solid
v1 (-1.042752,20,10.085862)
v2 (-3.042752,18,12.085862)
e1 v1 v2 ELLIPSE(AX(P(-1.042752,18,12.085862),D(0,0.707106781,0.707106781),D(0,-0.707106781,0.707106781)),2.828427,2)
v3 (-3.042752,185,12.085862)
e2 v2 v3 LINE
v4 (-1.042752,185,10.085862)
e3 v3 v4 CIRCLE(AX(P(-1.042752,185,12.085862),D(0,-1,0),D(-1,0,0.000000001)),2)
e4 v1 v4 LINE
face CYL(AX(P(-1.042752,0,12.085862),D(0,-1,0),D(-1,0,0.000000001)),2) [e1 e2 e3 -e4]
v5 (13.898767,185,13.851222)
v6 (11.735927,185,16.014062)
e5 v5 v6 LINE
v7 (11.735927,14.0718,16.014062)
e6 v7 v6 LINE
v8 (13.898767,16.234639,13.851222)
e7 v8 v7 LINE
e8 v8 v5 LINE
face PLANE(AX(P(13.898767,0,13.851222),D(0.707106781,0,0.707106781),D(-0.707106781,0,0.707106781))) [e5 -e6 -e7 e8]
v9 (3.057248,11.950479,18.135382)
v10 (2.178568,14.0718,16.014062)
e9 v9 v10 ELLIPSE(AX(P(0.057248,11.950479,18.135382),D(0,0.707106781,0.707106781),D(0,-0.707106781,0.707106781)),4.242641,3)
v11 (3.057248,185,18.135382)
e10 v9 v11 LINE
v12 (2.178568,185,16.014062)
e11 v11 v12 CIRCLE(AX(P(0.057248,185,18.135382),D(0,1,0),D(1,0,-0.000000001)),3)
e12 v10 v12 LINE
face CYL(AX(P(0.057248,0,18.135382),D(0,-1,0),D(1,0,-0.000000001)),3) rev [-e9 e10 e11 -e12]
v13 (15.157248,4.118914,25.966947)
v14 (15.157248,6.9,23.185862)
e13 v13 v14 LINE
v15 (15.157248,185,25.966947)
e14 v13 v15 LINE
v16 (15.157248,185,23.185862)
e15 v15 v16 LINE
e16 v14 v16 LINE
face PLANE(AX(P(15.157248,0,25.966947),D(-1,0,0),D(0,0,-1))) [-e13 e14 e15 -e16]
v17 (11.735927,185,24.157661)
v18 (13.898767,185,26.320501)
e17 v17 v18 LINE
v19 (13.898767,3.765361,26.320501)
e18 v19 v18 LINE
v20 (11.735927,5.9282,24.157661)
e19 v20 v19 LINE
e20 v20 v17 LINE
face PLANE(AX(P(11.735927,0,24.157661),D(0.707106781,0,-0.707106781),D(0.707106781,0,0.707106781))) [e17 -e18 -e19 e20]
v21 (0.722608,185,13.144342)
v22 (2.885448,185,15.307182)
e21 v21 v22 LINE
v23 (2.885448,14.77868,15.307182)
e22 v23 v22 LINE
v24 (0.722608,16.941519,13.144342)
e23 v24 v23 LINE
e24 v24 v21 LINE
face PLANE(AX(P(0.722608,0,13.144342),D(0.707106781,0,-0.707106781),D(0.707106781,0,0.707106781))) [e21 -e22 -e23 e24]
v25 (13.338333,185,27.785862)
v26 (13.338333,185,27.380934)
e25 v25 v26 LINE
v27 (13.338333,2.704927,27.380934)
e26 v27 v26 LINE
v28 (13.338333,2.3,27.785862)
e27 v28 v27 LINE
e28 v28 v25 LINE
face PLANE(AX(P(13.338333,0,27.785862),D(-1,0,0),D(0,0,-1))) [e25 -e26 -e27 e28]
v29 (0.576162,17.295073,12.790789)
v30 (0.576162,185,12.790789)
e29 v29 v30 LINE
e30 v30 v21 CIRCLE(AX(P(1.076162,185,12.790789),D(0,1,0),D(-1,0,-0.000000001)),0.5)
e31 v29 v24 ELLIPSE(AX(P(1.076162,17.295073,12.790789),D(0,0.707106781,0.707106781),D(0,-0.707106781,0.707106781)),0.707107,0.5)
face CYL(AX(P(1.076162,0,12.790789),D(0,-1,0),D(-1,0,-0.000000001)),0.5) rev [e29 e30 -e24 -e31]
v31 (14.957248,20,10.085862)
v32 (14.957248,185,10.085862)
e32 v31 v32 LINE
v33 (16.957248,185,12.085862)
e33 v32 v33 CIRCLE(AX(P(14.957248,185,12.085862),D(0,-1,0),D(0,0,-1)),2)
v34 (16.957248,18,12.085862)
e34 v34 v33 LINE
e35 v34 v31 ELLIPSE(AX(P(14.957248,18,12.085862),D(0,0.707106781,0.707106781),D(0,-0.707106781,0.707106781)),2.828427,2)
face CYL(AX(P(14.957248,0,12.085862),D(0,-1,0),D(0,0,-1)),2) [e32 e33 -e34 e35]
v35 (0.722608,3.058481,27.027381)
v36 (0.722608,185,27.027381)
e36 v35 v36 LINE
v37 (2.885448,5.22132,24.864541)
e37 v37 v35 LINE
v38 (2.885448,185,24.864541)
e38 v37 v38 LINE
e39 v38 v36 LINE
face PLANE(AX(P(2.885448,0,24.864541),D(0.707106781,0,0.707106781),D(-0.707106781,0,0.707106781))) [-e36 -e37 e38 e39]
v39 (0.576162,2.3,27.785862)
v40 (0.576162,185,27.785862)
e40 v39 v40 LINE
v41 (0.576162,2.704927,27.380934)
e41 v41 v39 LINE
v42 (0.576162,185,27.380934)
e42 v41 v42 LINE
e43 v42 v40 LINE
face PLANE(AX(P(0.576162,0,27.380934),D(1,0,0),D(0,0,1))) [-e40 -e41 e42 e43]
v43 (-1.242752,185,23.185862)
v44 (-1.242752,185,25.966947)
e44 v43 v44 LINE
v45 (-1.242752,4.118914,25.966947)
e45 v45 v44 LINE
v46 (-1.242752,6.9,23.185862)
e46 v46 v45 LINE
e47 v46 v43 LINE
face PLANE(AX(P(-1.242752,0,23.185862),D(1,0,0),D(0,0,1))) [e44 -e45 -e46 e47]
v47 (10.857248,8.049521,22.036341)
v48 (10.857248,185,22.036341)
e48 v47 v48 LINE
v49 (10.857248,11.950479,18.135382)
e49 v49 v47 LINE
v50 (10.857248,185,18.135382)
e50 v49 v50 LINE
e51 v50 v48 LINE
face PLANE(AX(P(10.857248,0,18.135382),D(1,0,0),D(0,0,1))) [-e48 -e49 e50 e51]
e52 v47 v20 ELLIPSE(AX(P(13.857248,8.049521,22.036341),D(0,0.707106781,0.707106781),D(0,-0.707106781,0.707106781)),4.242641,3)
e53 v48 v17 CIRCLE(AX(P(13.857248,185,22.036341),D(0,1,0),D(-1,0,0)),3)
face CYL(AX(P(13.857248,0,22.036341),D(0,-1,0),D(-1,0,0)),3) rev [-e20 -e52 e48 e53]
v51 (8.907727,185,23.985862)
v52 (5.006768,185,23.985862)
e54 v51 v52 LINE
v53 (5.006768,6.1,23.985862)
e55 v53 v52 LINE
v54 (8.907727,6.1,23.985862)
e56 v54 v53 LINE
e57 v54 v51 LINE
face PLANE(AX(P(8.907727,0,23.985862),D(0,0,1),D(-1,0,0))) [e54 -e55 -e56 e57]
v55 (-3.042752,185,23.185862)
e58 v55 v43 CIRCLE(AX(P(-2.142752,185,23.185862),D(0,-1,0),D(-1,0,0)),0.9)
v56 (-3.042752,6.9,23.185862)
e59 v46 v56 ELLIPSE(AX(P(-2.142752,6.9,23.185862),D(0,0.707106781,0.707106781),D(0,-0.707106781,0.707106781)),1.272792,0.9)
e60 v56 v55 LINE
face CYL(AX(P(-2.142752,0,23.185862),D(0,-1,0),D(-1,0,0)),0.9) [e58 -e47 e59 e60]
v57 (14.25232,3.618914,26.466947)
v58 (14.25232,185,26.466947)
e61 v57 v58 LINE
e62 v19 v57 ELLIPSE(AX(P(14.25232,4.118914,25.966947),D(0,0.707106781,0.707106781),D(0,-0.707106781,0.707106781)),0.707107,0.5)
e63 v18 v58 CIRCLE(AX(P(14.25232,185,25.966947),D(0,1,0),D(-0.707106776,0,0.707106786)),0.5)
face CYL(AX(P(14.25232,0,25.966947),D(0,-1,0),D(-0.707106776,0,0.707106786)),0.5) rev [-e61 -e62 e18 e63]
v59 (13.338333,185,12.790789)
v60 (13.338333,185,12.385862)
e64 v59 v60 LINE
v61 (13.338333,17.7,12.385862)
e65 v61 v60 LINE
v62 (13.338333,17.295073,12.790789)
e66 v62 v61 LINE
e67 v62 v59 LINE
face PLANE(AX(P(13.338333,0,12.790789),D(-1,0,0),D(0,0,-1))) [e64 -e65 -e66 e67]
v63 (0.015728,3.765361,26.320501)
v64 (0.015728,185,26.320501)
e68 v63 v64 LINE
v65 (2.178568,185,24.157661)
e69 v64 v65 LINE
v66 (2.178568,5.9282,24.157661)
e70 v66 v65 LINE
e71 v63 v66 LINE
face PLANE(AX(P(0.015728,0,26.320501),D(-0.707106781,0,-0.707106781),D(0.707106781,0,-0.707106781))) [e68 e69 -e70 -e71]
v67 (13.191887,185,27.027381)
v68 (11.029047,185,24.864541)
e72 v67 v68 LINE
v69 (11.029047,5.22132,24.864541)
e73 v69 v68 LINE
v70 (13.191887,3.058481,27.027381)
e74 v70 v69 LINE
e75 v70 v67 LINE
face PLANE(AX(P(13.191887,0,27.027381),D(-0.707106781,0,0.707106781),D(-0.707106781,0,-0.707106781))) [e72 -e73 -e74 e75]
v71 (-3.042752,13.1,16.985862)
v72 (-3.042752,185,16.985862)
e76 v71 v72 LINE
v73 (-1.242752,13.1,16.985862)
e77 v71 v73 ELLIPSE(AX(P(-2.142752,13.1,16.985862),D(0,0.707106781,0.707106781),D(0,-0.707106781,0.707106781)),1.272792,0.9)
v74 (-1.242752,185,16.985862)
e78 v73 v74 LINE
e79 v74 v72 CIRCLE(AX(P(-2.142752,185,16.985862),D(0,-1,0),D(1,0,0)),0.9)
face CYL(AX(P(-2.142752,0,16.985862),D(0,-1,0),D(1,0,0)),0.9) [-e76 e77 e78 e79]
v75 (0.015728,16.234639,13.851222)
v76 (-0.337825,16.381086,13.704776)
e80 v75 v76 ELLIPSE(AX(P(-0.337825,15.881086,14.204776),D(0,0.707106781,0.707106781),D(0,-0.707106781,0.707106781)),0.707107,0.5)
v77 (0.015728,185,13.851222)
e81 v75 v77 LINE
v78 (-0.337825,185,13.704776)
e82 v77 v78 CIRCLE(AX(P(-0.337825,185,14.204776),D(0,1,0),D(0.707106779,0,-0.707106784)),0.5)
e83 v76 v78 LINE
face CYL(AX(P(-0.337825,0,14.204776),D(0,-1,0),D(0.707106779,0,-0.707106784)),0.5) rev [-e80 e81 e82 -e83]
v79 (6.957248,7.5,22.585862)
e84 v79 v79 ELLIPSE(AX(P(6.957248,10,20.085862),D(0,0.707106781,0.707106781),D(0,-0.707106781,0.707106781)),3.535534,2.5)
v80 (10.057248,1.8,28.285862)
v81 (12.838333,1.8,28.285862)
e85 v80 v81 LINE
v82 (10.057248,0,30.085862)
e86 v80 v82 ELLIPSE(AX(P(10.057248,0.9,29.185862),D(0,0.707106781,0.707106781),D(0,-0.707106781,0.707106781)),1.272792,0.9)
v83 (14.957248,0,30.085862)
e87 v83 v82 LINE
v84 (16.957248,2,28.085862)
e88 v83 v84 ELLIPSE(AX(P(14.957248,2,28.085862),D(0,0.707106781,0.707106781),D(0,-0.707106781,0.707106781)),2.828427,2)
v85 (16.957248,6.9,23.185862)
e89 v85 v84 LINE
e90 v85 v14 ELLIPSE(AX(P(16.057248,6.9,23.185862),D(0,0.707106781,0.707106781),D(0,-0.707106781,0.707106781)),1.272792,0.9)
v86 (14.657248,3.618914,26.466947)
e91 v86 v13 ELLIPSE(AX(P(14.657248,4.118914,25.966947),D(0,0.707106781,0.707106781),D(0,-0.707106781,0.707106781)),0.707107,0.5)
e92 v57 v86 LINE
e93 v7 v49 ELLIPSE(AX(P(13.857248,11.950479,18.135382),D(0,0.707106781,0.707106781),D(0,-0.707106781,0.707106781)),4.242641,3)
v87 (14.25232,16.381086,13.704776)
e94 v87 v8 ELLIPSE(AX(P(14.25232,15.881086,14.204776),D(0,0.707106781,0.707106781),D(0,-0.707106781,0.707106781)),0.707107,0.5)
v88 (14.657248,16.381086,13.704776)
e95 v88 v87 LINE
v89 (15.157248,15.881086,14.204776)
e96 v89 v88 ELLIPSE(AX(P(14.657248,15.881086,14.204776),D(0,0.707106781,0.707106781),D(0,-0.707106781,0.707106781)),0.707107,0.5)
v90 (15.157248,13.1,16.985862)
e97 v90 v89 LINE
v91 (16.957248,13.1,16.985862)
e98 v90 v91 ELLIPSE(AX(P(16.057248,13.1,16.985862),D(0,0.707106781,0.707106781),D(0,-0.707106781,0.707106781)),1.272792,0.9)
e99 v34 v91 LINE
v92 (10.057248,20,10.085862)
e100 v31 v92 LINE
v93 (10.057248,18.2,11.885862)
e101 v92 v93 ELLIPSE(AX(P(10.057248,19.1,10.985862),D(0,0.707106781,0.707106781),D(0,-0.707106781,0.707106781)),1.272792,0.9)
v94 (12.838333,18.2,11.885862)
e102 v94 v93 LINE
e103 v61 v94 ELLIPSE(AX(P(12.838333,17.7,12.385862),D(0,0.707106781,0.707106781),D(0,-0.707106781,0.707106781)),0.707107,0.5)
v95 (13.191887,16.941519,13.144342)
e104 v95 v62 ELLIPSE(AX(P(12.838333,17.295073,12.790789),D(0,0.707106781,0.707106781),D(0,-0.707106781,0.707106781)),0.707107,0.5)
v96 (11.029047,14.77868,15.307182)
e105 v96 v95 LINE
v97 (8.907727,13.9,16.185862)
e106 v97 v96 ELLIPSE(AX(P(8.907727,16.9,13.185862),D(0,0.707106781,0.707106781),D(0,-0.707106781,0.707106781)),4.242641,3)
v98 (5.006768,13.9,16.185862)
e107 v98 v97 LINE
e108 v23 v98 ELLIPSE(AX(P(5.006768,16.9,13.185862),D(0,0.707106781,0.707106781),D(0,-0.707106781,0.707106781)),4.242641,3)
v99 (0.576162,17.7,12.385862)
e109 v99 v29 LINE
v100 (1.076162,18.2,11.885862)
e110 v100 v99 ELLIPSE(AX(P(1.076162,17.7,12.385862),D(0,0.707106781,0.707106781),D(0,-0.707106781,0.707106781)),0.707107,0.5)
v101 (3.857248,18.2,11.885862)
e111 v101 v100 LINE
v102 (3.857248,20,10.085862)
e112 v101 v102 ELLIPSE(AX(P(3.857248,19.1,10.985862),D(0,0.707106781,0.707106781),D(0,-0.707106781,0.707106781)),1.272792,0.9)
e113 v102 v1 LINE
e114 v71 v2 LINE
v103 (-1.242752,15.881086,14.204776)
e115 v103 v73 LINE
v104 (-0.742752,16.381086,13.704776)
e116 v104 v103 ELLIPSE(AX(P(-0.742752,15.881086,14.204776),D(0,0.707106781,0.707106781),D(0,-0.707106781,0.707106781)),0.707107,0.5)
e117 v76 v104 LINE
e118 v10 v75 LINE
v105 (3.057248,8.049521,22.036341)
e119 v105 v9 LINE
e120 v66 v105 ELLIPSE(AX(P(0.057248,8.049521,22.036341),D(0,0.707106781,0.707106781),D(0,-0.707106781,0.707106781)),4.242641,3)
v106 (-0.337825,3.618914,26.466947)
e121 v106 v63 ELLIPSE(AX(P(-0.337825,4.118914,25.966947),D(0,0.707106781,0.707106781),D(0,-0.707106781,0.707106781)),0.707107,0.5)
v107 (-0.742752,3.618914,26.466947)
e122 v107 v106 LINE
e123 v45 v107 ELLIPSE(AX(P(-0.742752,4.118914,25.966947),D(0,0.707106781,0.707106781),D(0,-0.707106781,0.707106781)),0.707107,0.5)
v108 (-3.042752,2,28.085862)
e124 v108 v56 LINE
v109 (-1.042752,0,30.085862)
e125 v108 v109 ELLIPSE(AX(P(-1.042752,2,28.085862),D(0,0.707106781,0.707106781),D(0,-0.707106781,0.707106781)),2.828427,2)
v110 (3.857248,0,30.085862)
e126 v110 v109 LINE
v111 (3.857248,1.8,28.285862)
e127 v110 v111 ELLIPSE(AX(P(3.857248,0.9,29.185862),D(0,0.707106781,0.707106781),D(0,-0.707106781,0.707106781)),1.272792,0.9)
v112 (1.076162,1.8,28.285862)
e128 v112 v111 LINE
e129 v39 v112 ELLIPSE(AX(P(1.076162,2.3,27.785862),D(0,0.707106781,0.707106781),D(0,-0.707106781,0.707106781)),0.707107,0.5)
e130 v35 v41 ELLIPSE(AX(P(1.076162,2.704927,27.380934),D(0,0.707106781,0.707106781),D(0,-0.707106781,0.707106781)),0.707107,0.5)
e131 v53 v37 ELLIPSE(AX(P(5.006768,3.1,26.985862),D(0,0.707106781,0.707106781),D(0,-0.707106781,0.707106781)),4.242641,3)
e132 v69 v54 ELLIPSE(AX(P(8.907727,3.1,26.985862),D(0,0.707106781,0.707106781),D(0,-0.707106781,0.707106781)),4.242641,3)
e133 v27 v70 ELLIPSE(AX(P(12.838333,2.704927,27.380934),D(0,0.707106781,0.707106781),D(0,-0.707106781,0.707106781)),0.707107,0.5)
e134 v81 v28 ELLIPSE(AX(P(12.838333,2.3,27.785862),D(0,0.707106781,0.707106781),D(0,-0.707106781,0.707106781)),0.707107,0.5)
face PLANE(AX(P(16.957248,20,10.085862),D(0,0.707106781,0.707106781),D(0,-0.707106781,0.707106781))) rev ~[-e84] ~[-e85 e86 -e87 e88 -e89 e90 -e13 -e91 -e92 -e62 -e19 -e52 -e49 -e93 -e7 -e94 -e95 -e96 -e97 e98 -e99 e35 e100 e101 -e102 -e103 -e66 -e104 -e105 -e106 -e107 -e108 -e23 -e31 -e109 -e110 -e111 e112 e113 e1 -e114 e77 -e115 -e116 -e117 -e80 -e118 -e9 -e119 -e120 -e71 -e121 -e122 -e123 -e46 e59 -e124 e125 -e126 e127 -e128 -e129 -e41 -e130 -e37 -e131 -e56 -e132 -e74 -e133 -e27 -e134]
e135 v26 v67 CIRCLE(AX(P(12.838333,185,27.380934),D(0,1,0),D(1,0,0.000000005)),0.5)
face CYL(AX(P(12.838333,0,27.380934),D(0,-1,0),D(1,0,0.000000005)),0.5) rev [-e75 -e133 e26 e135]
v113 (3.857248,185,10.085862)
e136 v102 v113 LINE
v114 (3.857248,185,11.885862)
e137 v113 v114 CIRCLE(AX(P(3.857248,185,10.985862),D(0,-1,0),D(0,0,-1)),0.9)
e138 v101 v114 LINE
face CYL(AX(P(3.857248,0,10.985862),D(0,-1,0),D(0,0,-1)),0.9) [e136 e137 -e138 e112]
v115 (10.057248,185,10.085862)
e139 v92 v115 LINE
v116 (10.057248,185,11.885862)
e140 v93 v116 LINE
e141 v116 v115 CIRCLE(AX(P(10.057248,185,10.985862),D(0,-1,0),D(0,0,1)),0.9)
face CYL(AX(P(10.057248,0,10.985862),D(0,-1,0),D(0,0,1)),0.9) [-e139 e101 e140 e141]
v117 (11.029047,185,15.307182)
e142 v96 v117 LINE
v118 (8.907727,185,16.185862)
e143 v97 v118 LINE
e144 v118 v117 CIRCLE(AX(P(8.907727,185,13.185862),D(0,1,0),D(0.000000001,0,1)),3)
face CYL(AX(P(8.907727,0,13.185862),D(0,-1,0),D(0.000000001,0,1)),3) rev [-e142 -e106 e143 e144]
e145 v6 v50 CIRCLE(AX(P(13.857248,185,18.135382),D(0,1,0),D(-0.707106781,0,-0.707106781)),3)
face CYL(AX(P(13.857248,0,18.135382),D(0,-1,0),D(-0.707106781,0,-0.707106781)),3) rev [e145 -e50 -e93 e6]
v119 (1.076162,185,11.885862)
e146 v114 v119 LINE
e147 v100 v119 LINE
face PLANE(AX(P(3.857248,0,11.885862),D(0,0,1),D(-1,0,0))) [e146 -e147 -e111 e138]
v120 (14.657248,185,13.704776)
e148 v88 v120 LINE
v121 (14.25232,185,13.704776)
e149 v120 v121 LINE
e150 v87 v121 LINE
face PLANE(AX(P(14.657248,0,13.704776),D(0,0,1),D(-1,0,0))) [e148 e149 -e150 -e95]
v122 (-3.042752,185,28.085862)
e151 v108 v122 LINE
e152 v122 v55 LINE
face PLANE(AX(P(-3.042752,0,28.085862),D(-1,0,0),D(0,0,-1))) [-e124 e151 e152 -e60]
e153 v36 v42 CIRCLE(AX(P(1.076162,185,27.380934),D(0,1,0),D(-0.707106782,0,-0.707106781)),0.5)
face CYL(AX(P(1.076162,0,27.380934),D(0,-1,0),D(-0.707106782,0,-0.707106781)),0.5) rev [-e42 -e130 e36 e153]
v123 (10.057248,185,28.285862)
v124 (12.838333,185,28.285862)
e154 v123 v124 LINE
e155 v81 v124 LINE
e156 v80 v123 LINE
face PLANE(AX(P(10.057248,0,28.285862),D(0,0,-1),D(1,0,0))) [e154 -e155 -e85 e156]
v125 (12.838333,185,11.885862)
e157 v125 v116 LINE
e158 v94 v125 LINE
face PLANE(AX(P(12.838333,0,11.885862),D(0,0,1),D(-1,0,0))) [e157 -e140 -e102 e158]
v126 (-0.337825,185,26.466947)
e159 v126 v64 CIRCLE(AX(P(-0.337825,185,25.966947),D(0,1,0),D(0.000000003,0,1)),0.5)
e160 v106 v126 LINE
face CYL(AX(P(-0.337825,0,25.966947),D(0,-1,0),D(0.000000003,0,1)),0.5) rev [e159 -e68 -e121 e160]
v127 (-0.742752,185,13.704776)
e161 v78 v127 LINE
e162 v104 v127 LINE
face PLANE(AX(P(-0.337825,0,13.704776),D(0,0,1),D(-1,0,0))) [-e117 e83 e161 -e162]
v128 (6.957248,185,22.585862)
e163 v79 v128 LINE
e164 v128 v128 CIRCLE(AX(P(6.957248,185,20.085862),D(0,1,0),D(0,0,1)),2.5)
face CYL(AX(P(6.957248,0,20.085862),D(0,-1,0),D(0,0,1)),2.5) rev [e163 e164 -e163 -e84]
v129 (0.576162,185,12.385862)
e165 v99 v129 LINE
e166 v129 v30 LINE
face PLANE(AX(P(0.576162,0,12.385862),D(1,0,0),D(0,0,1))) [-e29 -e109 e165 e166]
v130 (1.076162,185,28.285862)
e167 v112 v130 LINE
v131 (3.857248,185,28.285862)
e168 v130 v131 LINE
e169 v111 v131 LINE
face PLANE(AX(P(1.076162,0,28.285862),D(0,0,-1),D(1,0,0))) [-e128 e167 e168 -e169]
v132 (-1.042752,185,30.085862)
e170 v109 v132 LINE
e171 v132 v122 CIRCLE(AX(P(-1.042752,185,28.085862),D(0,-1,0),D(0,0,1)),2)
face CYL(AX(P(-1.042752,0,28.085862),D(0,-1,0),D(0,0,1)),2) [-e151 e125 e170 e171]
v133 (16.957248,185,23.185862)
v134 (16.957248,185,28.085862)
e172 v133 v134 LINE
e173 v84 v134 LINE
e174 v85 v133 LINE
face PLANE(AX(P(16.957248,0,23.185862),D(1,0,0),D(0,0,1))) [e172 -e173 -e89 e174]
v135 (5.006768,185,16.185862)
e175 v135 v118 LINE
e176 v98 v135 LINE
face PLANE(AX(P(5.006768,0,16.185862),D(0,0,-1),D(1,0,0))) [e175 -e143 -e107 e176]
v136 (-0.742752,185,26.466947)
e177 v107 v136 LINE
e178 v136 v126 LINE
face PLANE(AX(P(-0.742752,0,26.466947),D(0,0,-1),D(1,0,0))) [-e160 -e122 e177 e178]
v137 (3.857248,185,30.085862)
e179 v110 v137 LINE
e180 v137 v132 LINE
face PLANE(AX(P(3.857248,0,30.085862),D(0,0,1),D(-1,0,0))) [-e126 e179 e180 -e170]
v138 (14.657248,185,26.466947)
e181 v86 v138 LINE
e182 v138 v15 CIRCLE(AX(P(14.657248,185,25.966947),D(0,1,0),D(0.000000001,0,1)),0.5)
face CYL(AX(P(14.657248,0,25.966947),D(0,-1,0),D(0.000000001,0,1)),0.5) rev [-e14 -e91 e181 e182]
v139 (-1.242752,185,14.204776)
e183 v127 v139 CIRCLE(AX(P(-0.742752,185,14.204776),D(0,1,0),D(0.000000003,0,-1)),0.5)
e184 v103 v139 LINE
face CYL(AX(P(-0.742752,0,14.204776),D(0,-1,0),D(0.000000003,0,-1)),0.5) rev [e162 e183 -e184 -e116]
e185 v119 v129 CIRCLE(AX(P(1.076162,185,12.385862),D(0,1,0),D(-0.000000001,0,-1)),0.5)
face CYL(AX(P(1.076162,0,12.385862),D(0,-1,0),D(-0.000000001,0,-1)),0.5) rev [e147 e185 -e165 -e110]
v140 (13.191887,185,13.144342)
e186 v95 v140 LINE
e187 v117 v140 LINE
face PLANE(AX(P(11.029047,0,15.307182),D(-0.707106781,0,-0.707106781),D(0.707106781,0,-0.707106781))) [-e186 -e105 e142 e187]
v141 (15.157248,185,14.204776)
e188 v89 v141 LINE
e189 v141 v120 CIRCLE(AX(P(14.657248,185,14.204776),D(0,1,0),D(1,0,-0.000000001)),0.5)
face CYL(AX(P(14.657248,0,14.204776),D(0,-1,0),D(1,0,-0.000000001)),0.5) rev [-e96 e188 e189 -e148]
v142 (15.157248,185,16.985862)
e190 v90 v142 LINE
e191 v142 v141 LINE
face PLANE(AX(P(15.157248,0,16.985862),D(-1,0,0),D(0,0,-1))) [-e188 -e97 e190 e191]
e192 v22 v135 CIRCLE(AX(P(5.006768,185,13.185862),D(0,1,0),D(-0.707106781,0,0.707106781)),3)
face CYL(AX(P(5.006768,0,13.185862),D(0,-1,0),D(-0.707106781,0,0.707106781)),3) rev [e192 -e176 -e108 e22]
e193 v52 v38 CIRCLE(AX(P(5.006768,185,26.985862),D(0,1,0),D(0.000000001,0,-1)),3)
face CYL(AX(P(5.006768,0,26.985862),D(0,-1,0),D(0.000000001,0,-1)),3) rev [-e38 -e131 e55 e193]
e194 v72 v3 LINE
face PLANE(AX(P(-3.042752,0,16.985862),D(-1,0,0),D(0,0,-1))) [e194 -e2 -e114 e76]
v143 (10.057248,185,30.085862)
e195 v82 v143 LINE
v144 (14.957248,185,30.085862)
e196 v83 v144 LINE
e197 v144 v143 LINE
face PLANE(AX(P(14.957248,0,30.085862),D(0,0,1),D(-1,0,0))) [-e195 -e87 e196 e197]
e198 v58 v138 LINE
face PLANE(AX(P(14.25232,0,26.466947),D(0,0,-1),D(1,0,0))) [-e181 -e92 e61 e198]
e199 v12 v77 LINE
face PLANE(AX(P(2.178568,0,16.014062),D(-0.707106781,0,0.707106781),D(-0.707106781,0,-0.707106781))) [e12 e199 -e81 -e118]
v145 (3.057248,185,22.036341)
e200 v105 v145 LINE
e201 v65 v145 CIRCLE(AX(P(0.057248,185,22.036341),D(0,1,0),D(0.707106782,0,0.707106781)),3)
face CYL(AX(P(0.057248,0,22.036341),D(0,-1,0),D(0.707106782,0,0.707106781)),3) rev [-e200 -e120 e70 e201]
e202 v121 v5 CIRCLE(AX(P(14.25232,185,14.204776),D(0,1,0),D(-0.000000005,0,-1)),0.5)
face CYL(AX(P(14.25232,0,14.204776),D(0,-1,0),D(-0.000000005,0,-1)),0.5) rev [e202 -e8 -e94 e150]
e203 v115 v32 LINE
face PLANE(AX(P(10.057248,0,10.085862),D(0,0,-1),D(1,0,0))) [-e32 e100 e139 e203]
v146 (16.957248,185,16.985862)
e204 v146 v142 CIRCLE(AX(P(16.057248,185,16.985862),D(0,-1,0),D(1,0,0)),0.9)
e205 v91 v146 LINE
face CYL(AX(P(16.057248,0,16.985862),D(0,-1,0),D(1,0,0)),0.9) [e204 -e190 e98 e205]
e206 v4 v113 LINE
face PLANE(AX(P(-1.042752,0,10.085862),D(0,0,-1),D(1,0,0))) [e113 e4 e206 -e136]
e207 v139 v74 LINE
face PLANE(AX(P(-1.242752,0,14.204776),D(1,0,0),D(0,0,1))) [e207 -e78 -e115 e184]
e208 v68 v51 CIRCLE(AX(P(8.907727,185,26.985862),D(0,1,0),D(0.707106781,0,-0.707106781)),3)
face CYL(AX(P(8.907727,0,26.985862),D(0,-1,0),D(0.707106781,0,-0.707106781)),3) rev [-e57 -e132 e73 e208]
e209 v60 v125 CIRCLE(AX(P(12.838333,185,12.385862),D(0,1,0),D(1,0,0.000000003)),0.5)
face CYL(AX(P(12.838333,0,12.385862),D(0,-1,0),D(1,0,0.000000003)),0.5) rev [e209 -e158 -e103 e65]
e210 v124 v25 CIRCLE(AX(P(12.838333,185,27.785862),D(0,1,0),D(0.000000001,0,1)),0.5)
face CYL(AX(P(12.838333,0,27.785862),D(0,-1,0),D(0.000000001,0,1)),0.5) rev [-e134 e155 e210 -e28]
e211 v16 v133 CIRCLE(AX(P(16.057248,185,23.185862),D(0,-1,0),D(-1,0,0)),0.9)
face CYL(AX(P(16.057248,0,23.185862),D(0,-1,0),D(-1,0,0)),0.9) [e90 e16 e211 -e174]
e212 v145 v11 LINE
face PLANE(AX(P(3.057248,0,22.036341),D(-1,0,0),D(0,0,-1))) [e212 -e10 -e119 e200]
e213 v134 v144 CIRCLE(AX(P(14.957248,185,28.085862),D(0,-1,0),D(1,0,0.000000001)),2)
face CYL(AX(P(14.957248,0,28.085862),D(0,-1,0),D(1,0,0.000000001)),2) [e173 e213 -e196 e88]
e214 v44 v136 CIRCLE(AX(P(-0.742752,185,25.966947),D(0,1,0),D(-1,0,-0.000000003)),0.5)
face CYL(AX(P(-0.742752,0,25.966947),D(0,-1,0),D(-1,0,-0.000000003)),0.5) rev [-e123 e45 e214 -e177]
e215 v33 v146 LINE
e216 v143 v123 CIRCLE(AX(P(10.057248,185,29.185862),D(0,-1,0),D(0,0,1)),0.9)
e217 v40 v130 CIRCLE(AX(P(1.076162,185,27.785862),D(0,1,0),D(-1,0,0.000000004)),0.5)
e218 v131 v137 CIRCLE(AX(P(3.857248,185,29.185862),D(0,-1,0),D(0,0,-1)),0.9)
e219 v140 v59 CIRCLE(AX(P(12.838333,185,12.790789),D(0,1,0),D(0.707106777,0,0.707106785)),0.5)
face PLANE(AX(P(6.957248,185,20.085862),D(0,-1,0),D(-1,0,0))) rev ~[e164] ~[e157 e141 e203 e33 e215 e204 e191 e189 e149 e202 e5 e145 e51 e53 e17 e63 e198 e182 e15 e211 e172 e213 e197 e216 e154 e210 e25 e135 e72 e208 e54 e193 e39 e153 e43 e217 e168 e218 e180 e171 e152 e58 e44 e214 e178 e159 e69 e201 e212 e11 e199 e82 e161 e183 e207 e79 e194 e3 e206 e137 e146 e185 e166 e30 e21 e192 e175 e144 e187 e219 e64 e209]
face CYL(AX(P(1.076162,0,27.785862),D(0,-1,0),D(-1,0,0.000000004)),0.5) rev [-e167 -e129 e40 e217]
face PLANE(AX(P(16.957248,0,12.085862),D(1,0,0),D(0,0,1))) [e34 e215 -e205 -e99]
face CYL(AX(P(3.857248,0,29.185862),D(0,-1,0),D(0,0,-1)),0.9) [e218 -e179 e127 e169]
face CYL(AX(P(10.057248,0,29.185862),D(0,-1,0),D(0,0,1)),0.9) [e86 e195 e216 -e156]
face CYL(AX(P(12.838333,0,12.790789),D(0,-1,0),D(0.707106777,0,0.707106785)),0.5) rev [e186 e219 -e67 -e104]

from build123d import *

# Parameters (mm, degrees)
SKETCH_1_R          = 2.5
EXTRUDE_1_DEPTH     = 185
CUT_EXTRUDE_2_DEPTH = 189.494453685


with BuildPart() as part:
    # 草图1 → 凸台-拉伸1 (new body)
    with BuildSketch(Plane(origin=(0, 0, 0), x_dir=(1, 0, 0), z_dir=(0, 1, 0))):
        with BuildLine():
            Line((-1.042752475, -10.085861632), (3.857247525, -10.085861632))
            ThreePointArc((3.857247525, -10.085861632), (4.757247525, -10.985861632), (3.857247525, -11.885861632))
            Line((3.857247525, -11.885861632), (1.076161722, -11.885861632))
            ThreePointArc((1.076161722, -11.885861632), (0.722608332, -12.032308241), (0.576161722, -12.385861632))
            Line((0.576161722, -12.385861632), (0.576161722, -12.790788968))
            ThreePointArc((0.576161722, -12.790788968), (0.614221956, -12.982130685), (0.722608332, -13.144342359))
            Line((0.722608332, -13.144342359), (2.885447948, -15.307181975))
            ThreePointArc((2.885447948, -15.307181975), (3.858717994, -15.957500229), (5.006768291, -16.185861632))
            Line((5.006768291, -16.185861632), (8.907726758, -16.185861632))
            ThreePointArc((8.907726758, -16.185861632), (10.055777055, -15.957500229), (11.029047102, -15.307181975))
            Line((11.029047102, -15.307181975), (13.191886718, -13.144342359))
            ThreePointArc((13.191886718, -13.144342359), (13.300273094, -12.982130685), (13.338333327, -12.790788968))
            Line((13.338333327, -12.790788968), (13.338333327, -12.385861632))
            ThreePointArc((13.338333327, -12.385861632), (13.191886718, -12.032308241), (12.838333327, -11.885861632))
            Line((12.838333327, -11.885861632), (10.057247525, -11.885861632))
            ThreePointArc((10.057247525, -11.885861632), (9.157247525, -10.985861632), (10.057247525, -10.085861632))
            Line((10.057247525, -10.085861632), (14.957247525, -10.085861632))
            ThreePointArc((14.957247525, -10.085861632), (16.371461087, -10.671648069), (16.957247525, -12.085861632))
            Line((16.957247525, -12.085861632), (16.957247525, -16.985861632))
            ThreePointArc((16.957247525, -16.985861632), (16.057247525, -17.885861632), (15.157247525, -16.985861632))
            Line((15.157247525, -16.985861632), (15.157247525, -14.204775829))
            ThreePointArc((15.157247525, -14.204775829), (15.010800915, -13.851222438), (14.657247525, -13.704775829))
            Line((14.657247525, -13.704775829), (14.252320188, -13.704775829))
            ThreePointArc((14.252320188, -13.704775829), (14.060978472, -13.742836063), (13.898766797, -13.851222438))
            Line((13.898766797, -13.851222438), (11.735927181, -16.014062054))
            ThreePointArc((11.735927181, -16.014062054), (11.085608927, -16.987332101), (10.857247525, -18.135382398))
            Line((10.857247525, -18.135382398), (10.857247525, -22.036340865))
            ThreePointArc((10.857247525, -22.036340865), (11.085608927, -23.184391162), (11.735927181, -24.157661209))
            Line((11.735927181, -24.157661209), (13.898766797, -26.320500825))
            ThreePointArc((13.898766797, -26.320500825), (14.060978472, -26.4288872), (14.252320188, -26.466947434))
            Line((14.252320188, -26.466947434), (14.657247525, -26.466947434))
            ThreePointArc((14.657247525, -26.466947434), (15.010800915, -26.320500825), (15.157247525, -25.966947434))
            Line((15.157247525, -25.966947434), (15.157247525, -23.185861632))
            ThreePointArc((15.157247525, -23.185861632), (16.057247525, -22.285861632), (16.957247525, -23.185861632))
            Line((16.957247525, -23.185861632), (16.957247525, -28.085861632))
            ThreePointArc((16.957247525, -28.085861632), (16.371461087, -29.500075194), (14.957247525, -30.085861632))
            Line((14.957247525, -30.085861632), (10.057247525, -30.085861632))
            ThreePointArc((10.057247525, -30.085861632), (9.157247525, -29.185861632), (10.057247525, -28.285861632))
            Line((10.057247525, -28.285861632), (12.838333327, -28.285861632))
            ThreePointArc((12.838333327, -28.285861632), (13.191886718, -28.139415022), (13.338333327, -27.785861632))
            Line((13.338333327, -27.785861632), (13.338333327, -27.380934295))
            ThreePointArc((13.338333327, -27.380934295), (13.300273094, -27.189592579), (13.191886718, -27.027380904))
            Line((13.191886718, -27.027380904), (11.029047102, -24.864541288))
            ThreePointArc((11.029047102, -24.864541288), (10.055777055, -24.214223034), (8.907726758, -23.985861632))
            Line((8.907726758, -23.985861632), (5.006768291, -23.985861632))
            ThreePointArc((5.006768291, -23.985861632), (3.858717994, -24.214223034), (2.885447948, -24.864541288))
            Line((2.885447948, -24.864541288), (0.722608332, -27.027380904))
            ThreePointArc((0.722608332, -27.027380904), (0.614221956, -27.189592579), (0.576161722, -27.380934295))
            Line((0.576161722, -27.380934295), (0.576161722, -27.785861632))
            ThreePointArc((0.576161722, -27.785861632), (0.722608332, -28.139415022), (1.076161722, -28.285861632))
            Line((1.076161722, -28.285861632), (3.857247525, -28.285861632))
            ThreePointArc((3.857247525, -28.285861632), (4.757247525, -29.185861632), (3.857247525, -30.085861632))
            Line((3.857247525, -30.085861632), (-1.042752475, -30.085861632))
            ThreePointArc((-1.042752475, -30.085861632), (-2.456966038, -29.500075194), (-3.042752475, -28.085861632))
            Line((-3.042752475, -28.085861632), (-3.042752475, -23.185861632))
            ThreePointArc((-3.042752475, -23.185861632), (-2.142752475, -22.285861632), (-1.242752475, -23.185861632))
            Line((-1.242752475, -23.185861632), (-1.242752475, -25.966947434))
            ThreePointArc((-1.242752475, -25.966947434), (-1.096305866, -26.320500825), (-0.742752475, -26.466947434))
            Line((-0.742752475, -26.466947434), (-0.337825138, -26.466947434))
            ThreePointArc((-0.337825138, -26.466947434), (-0.146483422, -26.4288872), (0.015728252, -26.320500825))
            Line((0.015728252, -26.320500825), (2.178567868, -24.157661209))
            ThreePointArc((2.178567868, -24.157661209), (2.828886122, -23.184391162), (3.057247525, -22.036340865))
            Line((3.057247525, -22.036340865), (3.057247525, -18.135382398))
            ThreePointArc((3.057247525, -18.135382398), (2.828886122, -16.987332101), (2.178567868, -16.014062054))
            Line((2.178567868, -16.014062054), (0.015728252, -13.851222438))
            ThreePointArc((0.015728252, -13.851222438), (-0.146483422, -13.742836063), (-0.337825138, -13.704775829))
            Line((-0.337825138, -13.704775829), (-0.742752475, -13.704775829))
            ThreePointArc((-0.742752475, -13.704775829), (-1.096305866, -13.851222438), (-1.242752475, -14.204775829))
            Line((-1.242752475, -14.204775829), (-1.242752475, -16.985861632))
            ThreePointArc((-1.242752475, -16.985861632), (-2.142752475, -17.885861632), (-3.042752475, -16.985861632))
            Line((-3.042752475, -16.985861632), (-3.042752475, -12.085861632))
            ThreePointArc((-3.042752475, -12.085861632), (-2.456966038, -10.671648069), (-1.042752475, -10.085861632))
        make_face()
        with Locations(Location((6.957247525, -20.085861632, 0), (0, 0, 270))):
            Circle(SKETCH_1_R, mode=Mode.SUBTRACT)
    extrude(amount=EXTRUDE_1_DEPTH)

    # 草图3 → 切除-拉伸2 (cut, through all)
    with BuildSketch(Plane(origin=(16.957247525, 0, 0), x_dir=(0, 0, -1), z_dir=(1, 0, 0))):
        Polygon((-30.085861632, 0), (-10.085861632, 0), (-10.085861632, 20), align=None)
    extrude(amount=-CUT_EXTRUDE_2_DEPTH, mode=Mode.SUBTRACT)


solid = part.part
